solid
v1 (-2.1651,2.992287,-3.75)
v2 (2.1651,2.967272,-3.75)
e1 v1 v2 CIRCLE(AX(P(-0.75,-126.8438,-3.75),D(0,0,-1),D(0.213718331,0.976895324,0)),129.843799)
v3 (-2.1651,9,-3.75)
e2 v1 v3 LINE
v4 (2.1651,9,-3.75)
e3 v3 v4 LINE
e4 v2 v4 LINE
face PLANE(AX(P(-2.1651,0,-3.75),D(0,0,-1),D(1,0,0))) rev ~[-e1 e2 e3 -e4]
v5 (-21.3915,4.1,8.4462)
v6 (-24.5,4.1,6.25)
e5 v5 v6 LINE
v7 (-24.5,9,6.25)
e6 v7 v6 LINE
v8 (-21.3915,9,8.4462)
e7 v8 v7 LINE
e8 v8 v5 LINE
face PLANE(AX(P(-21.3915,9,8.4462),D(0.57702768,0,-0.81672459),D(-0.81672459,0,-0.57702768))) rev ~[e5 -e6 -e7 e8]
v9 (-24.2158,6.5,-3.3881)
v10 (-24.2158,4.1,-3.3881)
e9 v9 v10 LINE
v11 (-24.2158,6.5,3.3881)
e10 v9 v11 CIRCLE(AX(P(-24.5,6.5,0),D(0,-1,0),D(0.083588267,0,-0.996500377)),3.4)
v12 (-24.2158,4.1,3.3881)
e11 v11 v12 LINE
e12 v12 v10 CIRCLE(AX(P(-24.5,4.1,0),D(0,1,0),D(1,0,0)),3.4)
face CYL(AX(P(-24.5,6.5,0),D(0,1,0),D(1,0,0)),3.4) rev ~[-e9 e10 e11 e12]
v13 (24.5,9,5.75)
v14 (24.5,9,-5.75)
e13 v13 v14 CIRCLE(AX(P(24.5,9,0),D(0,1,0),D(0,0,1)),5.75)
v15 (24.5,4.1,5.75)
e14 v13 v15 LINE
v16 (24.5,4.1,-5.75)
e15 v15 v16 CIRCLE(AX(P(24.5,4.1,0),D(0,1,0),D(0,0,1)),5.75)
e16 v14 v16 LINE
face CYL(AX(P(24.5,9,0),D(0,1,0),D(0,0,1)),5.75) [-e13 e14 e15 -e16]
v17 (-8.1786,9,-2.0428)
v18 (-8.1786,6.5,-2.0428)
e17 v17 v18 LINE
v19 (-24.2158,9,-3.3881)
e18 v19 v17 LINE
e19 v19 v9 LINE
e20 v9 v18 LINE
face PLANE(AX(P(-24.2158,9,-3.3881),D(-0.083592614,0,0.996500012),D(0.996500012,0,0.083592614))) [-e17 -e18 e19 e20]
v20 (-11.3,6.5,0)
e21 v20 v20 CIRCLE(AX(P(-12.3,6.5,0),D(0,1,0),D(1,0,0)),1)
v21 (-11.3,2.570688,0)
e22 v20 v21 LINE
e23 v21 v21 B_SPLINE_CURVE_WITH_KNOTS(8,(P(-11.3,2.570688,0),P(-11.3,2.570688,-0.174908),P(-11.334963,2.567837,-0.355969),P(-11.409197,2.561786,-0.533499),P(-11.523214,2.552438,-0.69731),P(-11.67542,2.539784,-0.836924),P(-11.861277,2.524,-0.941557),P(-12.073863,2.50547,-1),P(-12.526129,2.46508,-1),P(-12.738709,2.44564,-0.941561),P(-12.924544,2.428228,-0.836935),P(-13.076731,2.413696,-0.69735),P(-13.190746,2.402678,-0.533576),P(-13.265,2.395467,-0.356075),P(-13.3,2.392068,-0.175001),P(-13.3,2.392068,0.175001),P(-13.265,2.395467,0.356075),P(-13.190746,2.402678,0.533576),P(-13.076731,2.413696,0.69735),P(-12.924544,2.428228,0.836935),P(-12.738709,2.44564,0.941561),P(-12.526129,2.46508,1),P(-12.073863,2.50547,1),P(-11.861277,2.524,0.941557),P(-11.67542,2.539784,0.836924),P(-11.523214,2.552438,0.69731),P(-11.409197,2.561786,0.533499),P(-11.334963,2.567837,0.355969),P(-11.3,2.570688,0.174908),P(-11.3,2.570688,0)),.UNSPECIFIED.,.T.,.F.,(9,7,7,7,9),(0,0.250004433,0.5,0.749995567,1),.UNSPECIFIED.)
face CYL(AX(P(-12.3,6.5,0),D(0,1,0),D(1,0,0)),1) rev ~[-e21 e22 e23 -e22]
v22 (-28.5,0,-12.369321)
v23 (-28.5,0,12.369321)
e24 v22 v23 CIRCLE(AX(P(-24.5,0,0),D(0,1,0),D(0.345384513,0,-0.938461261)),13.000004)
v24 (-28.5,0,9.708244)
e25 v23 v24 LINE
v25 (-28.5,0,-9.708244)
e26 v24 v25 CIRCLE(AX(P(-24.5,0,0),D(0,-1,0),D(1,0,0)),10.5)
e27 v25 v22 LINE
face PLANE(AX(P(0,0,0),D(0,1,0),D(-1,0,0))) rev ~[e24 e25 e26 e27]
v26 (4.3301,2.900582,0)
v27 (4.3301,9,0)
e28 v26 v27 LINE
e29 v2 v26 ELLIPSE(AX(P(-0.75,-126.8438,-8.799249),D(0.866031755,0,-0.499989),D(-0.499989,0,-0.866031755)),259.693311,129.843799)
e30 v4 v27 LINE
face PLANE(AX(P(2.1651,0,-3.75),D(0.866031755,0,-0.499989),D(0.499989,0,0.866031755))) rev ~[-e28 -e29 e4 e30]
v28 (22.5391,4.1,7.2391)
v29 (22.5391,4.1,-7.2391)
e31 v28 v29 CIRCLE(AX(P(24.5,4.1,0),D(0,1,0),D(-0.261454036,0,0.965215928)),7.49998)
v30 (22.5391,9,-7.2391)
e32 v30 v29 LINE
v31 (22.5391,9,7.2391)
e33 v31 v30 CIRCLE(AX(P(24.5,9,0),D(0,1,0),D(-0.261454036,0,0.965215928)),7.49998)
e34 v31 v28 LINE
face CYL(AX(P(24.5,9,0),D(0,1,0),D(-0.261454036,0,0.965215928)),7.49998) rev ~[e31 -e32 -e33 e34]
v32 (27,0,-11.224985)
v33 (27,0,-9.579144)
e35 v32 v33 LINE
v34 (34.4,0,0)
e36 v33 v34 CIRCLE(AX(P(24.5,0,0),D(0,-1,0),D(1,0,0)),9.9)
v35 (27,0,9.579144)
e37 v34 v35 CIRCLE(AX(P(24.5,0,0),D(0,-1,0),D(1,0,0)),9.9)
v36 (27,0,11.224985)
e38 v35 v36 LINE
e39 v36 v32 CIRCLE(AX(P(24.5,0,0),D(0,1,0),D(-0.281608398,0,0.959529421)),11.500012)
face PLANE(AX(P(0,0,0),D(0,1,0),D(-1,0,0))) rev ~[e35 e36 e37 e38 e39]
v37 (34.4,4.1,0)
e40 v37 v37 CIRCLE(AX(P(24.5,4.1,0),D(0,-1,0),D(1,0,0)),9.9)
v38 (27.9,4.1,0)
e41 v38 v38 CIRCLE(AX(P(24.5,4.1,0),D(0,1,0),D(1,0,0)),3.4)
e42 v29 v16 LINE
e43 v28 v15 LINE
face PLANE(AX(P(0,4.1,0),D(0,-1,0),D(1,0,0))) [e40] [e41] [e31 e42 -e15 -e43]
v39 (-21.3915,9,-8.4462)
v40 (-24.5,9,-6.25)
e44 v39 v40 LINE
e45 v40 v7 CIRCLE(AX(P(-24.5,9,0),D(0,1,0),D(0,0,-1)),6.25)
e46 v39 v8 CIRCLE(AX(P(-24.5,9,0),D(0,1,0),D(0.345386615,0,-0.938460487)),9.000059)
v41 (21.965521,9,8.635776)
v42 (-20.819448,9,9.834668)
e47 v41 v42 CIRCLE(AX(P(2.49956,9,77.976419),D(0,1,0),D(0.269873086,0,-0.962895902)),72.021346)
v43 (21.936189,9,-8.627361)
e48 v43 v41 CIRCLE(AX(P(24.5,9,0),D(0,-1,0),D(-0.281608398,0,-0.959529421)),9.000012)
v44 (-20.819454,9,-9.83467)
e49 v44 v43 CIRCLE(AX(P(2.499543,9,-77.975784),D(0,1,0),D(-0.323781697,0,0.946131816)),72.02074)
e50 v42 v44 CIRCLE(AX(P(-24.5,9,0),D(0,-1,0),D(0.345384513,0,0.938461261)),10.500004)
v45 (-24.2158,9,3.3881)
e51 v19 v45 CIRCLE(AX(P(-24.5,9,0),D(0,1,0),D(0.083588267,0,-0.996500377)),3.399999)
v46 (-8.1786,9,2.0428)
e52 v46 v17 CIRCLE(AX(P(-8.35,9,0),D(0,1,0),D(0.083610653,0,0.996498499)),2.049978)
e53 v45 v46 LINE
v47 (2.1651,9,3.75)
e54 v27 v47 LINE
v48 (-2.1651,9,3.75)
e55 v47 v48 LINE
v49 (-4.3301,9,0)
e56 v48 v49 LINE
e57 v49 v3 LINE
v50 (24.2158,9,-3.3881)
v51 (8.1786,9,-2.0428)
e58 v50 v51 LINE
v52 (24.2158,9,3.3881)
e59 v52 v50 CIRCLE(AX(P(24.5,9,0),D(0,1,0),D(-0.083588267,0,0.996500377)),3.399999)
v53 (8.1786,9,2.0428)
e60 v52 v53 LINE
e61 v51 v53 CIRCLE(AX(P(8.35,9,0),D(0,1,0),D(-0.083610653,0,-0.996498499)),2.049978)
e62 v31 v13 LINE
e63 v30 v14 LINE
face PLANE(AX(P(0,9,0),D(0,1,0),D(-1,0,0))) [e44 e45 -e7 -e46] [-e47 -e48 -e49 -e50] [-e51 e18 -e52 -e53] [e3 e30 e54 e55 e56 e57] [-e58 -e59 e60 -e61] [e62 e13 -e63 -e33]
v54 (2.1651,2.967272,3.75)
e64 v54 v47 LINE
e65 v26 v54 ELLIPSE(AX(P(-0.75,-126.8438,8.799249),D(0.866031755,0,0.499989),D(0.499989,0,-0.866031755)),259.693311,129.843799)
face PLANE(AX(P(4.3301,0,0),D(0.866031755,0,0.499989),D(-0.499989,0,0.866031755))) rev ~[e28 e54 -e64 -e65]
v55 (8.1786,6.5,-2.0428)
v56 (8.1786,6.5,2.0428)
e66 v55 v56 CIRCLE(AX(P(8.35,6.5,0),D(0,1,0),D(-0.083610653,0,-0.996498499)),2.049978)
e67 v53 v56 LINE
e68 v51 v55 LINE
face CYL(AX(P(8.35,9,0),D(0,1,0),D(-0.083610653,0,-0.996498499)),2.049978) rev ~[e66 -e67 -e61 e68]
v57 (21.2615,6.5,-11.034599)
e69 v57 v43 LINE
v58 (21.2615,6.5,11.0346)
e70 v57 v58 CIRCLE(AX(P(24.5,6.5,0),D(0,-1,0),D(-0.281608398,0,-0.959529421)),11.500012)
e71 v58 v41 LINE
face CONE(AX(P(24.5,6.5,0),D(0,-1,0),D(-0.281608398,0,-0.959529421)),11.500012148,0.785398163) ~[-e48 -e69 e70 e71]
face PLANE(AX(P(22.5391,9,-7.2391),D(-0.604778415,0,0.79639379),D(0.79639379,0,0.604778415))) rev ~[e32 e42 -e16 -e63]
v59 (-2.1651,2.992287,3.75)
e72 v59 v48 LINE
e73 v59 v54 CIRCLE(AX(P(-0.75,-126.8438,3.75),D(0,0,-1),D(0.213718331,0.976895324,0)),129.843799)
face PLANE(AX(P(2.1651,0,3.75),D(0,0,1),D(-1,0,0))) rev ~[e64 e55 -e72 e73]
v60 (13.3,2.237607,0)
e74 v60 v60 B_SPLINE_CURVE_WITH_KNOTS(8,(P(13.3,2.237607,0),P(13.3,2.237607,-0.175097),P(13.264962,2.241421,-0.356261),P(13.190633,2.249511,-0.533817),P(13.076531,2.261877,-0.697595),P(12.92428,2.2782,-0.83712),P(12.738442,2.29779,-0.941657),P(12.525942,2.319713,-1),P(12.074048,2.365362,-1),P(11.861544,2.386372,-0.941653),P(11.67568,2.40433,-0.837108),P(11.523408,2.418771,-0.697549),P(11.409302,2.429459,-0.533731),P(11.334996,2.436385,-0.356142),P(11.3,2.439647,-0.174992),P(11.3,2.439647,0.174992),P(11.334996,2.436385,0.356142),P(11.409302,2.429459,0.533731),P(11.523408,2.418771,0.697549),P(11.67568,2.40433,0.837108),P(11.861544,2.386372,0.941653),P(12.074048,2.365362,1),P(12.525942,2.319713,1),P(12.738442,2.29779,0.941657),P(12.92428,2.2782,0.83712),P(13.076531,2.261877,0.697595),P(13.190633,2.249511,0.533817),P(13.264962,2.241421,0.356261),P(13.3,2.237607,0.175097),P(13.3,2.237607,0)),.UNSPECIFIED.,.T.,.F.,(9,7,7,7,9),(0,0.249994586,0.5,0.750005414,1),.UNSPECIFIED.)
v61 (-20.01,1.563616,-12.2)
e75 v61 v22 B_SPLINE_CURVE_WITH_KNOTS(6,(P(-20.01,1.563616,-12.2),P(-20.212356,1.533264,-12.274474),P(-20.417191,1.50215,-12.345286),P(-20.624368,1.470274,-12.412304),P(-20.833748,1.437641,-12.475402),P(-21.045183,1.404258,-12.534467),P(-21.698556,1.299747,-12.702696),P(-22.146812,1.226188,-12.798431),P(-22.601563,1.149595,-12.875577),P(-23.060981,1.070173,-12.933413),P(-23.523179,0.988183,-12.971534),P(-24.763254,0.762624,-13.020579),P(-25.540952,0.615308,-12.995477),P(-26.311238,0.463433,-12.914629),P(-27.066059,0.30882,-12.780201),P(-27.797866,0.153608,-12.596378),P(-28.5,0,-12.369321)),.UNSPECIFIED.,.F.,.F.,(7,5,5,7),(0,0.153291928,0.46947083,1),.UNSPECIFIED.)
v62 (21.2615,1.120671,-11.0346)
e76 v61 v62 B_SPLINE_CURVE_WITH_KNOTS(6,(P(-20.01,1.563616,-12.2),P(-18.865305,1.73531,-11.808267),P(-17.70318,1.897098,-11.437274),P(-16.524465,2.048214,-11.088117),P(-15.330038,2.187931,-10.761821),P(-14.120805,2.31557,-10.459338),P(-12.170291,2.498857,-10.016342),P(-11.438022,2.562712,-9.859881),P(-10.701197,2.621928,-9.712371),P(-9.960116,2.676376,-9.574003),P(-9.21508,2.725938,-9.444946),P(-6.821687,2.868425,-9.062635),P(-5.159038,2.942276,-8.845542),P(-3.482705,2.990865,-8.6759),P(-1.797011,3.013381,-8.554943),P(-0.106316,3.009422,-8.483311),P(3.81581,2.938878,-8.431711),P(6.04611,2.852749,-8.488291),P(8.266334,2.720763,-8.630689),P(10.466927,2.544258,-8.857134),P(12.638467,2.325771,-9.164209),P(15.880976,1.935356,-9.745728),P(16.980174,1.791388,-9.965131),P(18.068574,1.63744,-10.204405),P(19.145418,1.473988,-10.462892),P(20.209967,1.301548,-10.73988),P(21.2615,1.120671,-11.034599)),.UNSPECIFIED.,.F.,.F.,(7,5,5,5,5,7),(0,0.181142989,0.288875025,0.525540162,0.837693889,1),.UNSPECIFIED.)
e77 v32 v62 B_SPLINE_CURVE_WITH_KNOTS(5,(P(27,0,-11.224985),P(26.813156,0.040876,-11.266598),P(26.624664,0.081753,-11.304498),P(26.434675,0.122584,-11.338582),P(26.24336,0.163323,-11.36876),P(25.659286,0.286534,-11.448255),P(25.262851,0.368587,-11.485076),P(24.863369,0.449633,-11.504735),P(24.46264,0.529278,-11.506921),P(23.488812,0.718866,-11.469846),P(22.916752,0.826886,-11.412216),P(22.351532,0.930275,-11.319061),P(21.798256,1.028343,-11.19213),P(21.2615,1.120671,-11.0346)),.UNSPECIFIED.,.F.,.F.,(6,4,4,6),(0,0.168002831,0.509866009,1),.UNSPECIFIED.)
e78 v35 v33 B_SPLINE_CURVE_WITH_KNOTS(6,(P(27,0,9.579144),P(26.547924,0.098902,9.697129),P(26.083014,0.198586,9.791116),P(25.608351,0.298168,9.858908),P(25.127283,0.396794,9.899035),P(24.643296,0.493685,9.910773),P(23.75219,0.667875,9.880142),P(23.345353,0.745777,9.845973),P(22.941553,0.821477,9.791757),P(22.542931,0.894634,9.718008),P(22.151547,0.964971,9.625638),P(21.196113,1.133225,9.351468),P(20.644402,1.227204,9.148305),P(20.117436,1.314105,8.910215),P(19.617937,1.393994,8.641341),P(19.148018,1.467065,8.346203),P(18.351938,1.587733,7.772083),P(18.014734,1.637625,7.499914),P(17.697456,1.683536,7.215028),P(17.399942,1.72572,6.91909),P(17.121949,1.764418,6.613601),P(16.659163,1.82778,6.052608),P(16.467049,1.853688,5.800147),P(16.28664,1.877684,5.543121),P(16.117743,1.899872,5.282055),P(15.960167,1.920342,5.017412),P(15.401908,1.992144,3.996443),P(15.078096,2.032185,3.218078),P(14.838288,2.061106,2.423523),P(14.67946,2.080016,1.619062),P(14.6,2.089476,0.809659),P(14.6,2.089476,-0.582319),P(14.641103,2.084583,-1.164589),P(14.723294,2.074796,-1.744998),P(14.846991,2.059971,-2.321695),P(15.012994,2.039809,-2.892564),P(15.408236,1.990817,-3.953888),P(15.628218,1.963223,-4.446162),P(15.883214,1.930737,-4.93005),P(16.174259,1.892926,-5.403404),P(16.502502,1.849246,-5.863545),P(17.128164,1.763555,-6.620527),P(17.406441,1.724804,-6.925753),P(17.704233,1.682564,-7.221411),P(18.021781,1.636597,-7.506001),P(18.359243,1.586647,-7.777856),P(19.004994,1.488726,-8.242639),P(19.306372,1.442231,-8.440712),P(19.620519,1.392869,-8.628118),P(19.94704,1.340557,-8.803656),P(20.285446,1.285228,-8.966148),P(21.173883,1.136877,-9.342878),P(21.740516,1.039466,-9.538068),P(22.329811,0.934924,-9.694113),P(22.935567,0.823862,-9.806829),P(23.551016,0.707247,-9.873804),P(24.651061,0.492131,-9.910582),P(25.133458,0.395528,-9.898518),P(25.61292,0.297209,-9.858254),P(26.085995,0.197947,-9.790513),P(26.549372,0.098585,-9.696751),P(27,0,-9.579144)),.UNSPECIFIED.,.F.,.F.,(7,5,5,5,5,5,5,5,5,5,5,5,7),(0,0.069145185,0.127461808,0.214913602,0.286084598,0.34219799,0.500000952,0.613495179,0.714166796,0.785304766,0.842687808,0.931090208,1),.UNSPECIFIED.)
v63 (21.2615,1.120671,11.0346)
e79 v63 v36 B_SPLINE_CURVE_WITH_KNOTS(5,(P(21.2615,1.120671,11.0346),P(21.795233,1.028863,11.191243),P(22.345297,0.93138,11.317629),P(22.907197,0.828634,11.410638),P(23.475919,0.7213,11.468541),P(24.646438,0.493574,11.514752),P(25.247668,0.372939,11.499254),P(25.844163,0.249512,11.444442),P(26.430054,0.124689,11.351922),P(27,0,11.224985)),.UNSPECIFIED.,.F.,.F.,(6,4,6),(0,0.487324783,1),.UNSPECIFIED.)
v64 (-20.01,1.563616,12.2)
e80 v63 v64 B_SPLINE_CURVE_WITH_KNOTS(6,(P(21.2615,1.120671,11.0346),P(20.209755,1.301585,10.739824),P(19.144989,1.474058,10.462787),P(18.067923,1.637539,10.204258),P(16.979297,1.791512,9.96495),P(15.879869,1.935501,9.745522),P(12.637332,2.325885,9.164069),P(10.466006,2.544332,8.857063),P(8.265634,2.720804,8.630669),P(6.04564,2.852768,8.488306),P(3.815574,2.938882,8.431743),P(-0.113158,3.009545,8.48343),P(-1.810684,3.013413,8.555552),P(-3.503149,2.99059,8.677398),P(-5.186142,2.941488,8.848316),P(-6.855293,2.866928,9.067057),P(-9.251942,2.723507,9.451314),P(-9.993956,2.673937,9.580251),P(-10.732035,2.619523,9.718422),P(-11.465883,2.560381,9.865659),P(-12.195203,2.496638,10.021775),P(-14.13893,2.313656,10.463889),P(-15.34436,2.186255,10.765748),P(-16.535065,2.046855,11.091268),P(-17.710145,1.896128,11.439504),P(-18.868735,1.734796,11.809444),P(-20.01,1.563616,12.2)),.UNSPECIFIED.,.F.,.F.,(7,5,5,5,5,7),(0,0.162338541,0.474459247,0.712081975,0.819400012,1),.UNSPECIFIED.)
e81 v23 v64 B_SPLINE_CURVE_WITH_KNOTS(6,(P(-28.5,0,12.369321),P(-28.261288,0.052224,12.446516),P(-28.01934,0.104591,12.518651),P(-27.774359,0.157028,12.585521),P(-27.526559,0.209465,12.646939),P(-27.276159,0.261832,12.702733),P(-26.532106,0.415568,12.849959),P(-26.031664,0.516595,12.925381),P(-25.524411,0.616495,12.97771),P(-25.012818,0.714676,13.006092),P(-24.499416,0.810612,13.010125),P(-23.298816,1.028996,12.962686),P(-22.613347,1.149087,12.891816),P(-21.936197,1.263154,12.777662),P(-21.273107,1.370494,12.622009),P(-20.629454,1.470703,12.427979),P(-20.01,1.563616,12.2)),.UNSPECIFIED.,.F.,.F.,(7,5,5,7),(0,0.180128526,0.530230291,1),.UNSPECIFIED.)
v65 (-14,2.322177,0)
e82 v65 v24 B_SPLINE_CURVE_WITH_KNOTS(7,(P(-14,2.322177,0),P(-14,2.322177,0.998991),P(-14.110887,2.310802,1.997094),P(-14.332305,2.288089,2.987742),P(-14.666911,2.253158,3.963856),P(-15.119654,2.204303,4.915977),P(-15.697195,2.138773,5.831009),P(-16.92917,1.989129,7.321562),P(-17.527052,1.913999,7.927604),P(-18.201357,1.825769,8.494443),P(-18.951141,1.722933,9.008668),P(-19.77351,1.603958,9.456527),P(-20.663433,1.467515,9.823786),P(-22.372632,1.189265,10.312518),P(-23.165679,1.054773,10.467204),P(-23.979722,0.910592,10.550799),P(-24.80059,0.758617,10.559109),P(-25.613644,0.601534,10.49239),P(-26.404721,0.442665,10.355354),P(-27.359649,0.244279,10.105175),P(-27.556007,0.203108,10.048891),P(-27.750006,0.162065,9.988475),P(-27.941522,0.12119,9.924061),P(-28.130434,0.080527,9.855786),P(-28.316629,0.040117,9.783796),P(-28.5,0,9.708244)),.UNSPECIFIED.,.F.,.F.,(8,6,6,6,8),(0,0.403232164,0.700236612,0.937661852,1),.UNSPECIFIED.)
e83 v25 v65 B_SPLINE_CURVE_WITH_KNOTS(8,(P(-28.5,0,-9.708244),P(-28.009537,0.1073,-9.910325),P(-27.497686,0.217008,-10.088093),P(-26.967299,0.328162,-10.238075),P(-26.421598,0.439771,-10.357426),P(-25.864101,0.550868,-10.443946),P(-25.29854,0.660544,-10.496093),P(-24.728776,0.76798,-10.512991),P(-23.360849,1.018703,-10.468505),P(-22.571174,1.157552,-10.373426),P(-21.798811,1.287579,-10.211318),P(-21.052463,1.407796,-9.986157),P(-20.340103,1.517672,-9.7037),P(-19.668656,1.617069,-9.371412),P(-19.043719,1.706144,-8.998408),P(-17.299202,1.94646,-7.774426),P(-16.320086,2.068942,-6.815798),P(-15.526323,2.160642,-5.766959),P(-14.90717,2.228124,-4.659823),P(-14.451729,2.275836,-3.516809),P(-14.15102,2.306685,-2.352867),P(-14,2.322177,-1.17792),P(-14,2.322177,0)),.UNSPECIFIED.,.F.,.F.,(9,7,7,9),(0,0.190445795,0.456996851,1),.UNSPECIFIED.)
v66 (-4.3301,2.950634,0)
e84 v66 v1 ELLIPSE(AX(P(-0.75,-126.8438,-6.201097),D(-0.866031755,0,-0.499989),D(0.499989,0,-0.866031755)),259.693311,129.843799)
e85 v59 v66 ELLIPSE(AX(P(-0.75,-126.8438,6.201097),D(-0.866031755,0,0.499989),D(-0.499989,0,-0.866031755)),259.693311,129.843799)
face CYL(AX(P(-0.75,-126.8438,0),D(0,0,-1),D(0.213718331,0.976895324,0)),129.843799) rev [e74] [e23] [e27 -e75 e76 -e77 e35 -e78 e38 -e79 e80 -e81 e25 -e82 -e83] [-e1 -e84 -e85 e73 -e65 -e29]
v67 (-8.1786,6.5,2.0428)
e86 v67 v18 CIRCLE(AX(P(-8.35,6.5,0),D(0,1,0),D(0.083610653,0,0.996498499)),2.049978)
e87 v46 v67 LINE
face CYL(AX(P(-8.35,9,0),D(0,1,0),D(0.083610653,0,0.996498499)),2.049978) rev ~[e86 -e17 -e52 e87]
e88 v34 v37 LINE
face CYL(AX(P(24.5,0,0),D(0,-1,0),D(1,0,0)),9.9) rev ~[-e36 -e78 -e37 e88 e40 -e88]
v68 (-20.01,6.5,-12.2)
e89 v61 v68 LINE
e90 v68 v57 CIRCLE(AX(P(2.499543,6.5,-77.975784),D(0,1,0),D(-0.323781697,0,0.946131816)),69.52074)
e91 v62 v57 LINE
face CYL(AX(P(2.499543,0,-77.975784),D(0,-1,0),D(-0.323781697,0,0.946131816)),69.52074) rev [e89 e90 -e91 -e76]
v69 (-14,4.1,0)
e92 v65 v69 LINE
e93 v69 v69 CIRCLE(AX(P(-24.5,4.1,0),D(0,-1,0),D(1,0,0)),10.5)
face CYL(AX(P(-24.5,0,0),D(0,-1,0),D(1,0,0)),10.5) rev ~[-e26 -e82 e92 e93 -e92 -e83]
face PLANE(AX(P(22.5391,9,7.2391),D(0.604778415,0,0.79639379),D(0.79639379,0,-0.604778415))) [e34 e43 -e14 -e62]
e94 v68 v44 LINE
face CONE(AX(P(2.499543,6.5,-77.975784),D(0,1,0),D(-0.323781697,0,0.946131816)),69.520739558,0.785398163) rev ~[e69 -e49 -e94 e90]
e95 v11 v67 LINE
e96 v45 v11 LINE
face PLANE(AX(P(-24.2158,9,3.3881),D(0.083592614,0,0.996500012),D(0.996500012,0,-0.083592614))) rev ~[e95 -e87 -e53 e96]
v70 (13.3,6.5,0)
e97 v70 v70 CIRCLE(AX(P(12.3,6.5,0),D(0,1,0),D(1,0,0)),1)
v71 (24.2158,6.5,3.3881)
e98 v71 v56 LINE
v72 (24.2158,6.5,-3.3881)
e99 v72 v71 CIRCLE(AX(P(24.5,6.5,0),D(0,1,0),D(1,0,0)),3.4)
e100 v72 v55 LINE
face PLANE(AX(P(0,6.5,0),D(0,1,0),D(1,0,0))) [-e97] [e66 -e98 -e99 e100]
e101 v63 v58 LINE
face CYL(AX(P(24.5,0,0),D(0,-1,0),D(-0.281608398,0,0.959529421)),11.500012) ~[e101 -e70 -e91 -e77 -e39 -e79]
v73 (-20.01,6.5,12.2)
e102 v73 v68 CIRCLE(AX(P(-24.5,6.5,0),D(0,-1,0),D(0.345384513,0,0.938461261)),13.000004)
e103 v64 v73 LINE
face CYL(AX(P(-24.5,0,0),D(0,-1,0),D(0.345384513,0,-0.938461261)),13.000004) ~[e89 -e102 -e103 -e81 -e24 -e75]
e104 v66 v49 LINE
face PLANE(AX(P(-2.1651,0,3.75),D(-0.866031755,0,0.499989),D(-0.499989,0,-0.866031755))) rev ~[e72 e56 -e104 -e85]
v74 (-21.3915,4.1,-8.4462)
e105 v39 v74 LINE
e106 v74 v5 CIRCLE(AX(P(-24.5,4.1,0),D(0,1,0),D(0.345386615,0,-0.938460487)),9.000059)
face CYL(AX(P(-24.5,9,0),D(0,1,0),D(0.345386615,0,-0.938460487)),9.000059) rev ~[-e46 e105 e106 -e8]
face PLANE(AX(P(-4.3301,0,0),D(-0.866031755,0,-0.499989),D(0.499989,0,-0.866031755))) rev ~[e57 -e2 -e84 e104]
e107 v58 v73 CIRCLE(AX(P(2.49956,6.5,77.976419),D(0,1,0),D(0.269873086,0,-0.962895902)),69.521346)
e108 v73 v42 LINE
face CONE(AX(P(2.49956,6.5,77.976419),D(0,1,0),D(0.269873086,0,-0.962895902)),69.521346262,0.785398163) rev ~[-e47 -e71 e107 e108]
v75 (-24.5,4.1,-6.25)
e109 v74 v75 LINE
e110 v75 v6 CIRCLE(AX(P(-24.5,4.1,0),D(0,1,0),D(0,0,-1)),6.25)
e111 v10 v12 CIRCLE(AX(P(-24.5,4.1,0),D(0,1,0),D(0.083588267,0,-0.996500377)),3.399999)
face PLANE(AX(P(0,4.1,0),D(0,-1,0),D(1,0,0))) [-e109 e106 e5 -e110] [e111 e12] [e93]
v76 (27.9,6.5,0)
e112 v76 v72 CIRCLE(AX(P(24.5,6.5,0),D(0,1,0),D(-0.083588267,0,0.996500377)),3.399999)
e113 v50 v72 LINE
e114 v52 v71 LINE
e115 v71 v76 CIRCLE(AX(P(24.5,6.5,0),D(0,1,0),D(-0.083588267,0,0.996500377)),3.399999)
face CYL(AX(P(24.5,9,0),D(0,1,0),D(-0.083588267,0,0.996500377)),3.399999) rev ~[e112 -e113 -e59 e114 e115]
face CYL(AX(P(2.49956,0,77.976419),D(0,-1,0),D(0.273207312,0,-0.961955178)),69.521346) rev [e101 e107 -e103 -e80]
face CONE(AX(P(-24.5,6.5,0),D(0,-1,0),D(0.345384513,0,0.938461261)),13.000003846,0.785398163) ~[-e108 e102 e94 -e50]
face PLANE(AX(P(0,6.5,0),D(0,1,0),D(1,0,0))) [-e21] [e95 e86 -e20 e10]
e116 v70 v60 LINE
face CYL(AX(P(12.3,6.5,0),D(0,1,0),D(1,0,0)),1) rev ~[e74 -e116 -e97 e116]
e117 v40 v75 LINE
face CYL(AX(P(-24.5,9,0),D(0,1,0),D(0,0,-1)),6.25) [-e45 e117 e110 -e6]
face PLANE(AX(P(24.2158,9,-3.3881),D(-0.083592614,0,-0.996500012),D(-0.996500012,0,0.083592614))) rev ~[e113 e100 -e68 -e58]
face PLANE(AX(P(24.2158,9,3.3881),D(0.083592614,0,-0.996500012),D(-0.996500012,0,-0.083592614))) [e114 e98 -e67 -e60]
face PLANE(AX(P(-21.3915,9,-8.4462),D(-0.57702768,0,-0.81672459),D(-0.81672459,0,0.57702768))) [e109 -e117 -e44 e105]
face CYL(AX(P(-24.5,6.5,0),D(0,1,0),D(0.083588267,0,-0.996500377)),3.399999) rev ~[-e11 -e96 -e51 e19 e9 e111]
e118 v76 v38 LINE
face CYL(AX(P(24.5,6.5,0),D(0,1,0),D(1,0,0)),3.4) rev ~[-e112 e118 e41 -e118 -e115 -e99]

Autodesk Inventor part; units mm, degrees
ref_plane "YZ Plane" through (0, 0, 0) normal (1, 0, 0) x (0, 1, 0)
ref_plane "XZ Plane" through (0, 0, 0) normal (0, 1, 0) x (-1, 0, 0)
ref_plane "XY Plane" through (0, 0, 0) normal (0, 0, 1) x (1, 0, 0)
sketch "Boceto1" plane through (0, 0, 0) normal (0, 1, 0) x (-1, 0, 0)
  arc A0 (20.01, -12.2) -> (20.01, 12.2) centre (24.5, 0) ccw
  arc A1 (-21.2615, 11.0346) -> (-21.2615, -11.0346) centre (-24.5, 0) ccw
  line L0 (-2.1651, 3.75) -> (2.1651, 3.75)
  line L1 (2.1651, 3.75) -> (4.3301, 0)
  line L2 (4.3301, 0) -> (2.1651, -3.75)
  line L3 (2.1651, -3.75) -> (-2.1651, -3.75)
  line L4 (-2.1651, -3.75) -> (-4.3301, 0)
  line L5 (-4.3301, 0) -> (-2.1651, 3.75)
  line L6 (0, 0) -> (0, 8.5) construction
  line L7 (0, 0) -> (0, -8.5) construction
  line L8 (0, 0) -> (2.6275, 0) construction
  arc A2 (20.01, -12.2) -> (-21.4933, -11.1) centre (-2.4996, -77.9761) ccw
  arc A3 (-21.4933, 11.1) -> (20.01, 12.2) centre (-2.4996, 77.9761) ccw
  arc A4 (20.01, 12.2) -> (20.01, -12.2) centre (24.5, 0) ccw construction
  arc A5 (-21.2615, -11.0346) -> (-21.2615, 11.0346) centre (-24.5, 0) ccw construction
  point P0 (-21.4933, 11.1)
  dimension "d2" = 7.5
  dimension "d3" = 49
  dimension "d4" = 8.5
  dimension "d5" = 8.5
  dimension "d6" = 26
  dimension "d7" = 23
  dimension "d12" = 12.2
  dimension "d13" = 11.1
extrude "Extrusión1" add sketch "Boceto1" along normal blind 9
sketch "Boceto2" plane through (0, 9, 0) normal (0, 1, 0) x (1, 0, 0)
  arc A0 (-20.01, 12.2) -> (-20.01, -12.2) centre (-24.5, 0) ccw projected
  arc A1 (21.4933, -11.1) -> (21.4933, 11.1) centre (24.5, 0) ccw projected
  arc A2 (-24.5, 6.25) -> (-24.5, -6.25) centre (-24.5, 0) ccw
  arc A3 (24.5, -5.75) -> (24.5, 5.75) centre (24.5, 0) ccw
  arc A4 (-21.3915, 8.4462) -> (-21.3915, -8.4462) centre (-24.5, 0) ccw
  arc A5 (22.5391, -7.2391) -> (22.5391, 7.2391) centre (24.5, 0) ccw
  line L0 (-21.3915, 8.4462) -> (-24.5, 6.25)
  line L1 (-21.3915, -8.4462) -> (-24.5, -6.25)
  arc A6 (-24.5, -6.25) -> (-24.5, 6.25) centre (-24.5, 0) ccw construction
  line L2 (22.5391, 7.2391) -> (24.5, 5.75)
  line L3 (22.5391, -7.2391) -> (24.5, -5.75)
  arc A7 (24.5, 5.75) -> (24.5, -5.75) centre (24.5, 0) ccw construction
  point P0 (0, 0)
  dimension "d16" = 12.5
  dimension "d17" = 11.5
  dimension "d18" = 4
  dimension "d19" = 4
extrude "Extrusión2" cut sketch "Boceto2" against normal up to surface (9 mm away)
sketch "Boceto3" plane through (0, 9, 0) normal (0, 1, 0) x (1, 0, 0)
  arc A0 (-24.5, 6.25) -> (-24.5, -6.25) centre (-24.5, 0) ccw projected
  arc A1 (24.5, -5.75) -> (24.5, 5.75) centre (24.5, 0) ccw projected
  arc A2 (-24.2158, 3.3881) -> (-24.2158, -3.3881) centre (-24.5, 0) ccw
  arc A3 (-8.1786, -2.0428) -> (-8.1786, 2.0428) centre (-8.35, 0) ccw
  line L0 (-27.9, 3.184) -> (-27.9, -2.3152) construction
  line L1 (-6.3, 2.5123) -> (-6.3, -1.5596) construction
  line L2 (0, 0) -> (0, -2.3152) construction
  line L3 (-24.2158, 3.3881) -> (-8.1786, 2.0428)
  line L4 (-24.2158, -3.3881) -> (-8.1786, -2.0428)
  arc A4 (24.2158, -3.3881) -> (24.2158, 3.3881) centre (24.5, 0) ccw
  arc A5 (8.1786, 2.0428) -> (8.1786, -2.0428) centre (8.35, 0) ccw
  line L5 (24.2158, 3.3881) -> (8.1786, 2.0428)
  line L6 (24.2158, -3.3881) -> (8.1786, -2.0428)
  arc A6 (-24.2158, -3.3881) -> (-24.2158, 3.3881) centre (-24.5, 0) ccw construction
  arc A7 (-8.1786, 2.0428) -> (-8.1786, -2.0428) centre (-8.35, 0) ccw construction
  arc A8 (8.1786, -2.0428) -> (8.1786, 2.0428) centre (8.35, 0) ccw construction
  arc A9 (24.2158, 3.3881) -> (24.2158, -3.3881) centre (24.5, 0) ccw construction
  dimension "d22" = 6.8
  dimension "d28" = 4.1
  dimension "d30" = 21.6
extrude "Extrusión3" cut sketch "Boceto3" against normal blind 2.5
sketch "Boceto4" plane through (0, 6.5, 0) normal (0, 1, 0) x (1, 0, 0)
  arc A0 (-24.2158, 3.3881) -> (-24.2158, -3.3881) centre (-24.5, 0) ccw projected
  line L0 (0, 0) -> (0, -3.3881) construction
  arc A1 (-24.2158, 3.3881) -> (-24.2158, -3.3881) centre (-24.5, 0) ccw projected
  circle A2 centre (-24.5, 0) radius 3.4
  circle A3 centre (-12.3, 0) radius 1
  circle A4 centre (24.5, 0) radius 3.4
  circle A5 centre (12.3, 0) radius 1
  point P0 (-24.2158, -3.3881)
  dimension "d33" = 6.8
  dimension "d34" = 2
  dimension "d35" = 12.2
extrude "Extrusión4" cut sketch "Boceto4" against normal up to surface (6.5 mm away)
sketch "Boceto5" plane through (0, 0, 0) normal (0, -1, 0) x (1, 0, 0)
  circle A0 centre (24.5, 0) radius 3.4 projected
  circle A1 centre (-24.5, 0) radius 3.4 projected
  circle A2 centre (24.5, 0) radius 9.9
  circle A3 centre (-24.5, 0) radius 10.5
  point P0 (0, 0)
  dimension "d38" = 19.8
  dimension "d39" = 21
extrude "Extrusión5" cut sketch "Boceto5" against normal blind 4.1 contours A0 | A1 | A2 | A3
sketch "Boceto6" plane through (0, 0, 0) normal (0, 0, 1) x (1, 0, 0)
  line L0 (-20.01, 9) -> (21.4933, 9) projected
  line L1 (2.1651, 9) -> (-2.1651, 9) projected
  line L2 (0, 9) -> (0, 11.4954) construction
  line L3 (-37.5, 0) -> (-37.5, 9) projected
  line L4 (36, 0) -> (36, 9) projected
  line L5 (36, 0) -> (21.4933, 0) projected
  line L6 (-20.01, 0) -> (-37.5, 0) projected
  arc A0 (27, 0) -> (-28.5, 0) centre (-0.75, -126.8438) ccw
  line L7 (-9.6072, 3) -> (8.7031, 3) construction
  line L8 (-28.5, 0) -> (27, 0)
  line L9 (-20.01, 0) -> (21.4933, 0) projected
  point P0 (0, 0)
  dimension "d42" = 9
  dimension "d43" = 9
  dimension "d44" = 6
extrude "Extrusión6" cut sketch "Boceto6" along normal through all both and the other way through all
chamfer "Chaflán1" distance 2.5 angle 45 4 edges at (0.6576, 9, -8.4795) (-37.5, 9, 0) (0.6576, 9, 8.4795) (36, 9, 0)
properties part number "Femur_V2"
